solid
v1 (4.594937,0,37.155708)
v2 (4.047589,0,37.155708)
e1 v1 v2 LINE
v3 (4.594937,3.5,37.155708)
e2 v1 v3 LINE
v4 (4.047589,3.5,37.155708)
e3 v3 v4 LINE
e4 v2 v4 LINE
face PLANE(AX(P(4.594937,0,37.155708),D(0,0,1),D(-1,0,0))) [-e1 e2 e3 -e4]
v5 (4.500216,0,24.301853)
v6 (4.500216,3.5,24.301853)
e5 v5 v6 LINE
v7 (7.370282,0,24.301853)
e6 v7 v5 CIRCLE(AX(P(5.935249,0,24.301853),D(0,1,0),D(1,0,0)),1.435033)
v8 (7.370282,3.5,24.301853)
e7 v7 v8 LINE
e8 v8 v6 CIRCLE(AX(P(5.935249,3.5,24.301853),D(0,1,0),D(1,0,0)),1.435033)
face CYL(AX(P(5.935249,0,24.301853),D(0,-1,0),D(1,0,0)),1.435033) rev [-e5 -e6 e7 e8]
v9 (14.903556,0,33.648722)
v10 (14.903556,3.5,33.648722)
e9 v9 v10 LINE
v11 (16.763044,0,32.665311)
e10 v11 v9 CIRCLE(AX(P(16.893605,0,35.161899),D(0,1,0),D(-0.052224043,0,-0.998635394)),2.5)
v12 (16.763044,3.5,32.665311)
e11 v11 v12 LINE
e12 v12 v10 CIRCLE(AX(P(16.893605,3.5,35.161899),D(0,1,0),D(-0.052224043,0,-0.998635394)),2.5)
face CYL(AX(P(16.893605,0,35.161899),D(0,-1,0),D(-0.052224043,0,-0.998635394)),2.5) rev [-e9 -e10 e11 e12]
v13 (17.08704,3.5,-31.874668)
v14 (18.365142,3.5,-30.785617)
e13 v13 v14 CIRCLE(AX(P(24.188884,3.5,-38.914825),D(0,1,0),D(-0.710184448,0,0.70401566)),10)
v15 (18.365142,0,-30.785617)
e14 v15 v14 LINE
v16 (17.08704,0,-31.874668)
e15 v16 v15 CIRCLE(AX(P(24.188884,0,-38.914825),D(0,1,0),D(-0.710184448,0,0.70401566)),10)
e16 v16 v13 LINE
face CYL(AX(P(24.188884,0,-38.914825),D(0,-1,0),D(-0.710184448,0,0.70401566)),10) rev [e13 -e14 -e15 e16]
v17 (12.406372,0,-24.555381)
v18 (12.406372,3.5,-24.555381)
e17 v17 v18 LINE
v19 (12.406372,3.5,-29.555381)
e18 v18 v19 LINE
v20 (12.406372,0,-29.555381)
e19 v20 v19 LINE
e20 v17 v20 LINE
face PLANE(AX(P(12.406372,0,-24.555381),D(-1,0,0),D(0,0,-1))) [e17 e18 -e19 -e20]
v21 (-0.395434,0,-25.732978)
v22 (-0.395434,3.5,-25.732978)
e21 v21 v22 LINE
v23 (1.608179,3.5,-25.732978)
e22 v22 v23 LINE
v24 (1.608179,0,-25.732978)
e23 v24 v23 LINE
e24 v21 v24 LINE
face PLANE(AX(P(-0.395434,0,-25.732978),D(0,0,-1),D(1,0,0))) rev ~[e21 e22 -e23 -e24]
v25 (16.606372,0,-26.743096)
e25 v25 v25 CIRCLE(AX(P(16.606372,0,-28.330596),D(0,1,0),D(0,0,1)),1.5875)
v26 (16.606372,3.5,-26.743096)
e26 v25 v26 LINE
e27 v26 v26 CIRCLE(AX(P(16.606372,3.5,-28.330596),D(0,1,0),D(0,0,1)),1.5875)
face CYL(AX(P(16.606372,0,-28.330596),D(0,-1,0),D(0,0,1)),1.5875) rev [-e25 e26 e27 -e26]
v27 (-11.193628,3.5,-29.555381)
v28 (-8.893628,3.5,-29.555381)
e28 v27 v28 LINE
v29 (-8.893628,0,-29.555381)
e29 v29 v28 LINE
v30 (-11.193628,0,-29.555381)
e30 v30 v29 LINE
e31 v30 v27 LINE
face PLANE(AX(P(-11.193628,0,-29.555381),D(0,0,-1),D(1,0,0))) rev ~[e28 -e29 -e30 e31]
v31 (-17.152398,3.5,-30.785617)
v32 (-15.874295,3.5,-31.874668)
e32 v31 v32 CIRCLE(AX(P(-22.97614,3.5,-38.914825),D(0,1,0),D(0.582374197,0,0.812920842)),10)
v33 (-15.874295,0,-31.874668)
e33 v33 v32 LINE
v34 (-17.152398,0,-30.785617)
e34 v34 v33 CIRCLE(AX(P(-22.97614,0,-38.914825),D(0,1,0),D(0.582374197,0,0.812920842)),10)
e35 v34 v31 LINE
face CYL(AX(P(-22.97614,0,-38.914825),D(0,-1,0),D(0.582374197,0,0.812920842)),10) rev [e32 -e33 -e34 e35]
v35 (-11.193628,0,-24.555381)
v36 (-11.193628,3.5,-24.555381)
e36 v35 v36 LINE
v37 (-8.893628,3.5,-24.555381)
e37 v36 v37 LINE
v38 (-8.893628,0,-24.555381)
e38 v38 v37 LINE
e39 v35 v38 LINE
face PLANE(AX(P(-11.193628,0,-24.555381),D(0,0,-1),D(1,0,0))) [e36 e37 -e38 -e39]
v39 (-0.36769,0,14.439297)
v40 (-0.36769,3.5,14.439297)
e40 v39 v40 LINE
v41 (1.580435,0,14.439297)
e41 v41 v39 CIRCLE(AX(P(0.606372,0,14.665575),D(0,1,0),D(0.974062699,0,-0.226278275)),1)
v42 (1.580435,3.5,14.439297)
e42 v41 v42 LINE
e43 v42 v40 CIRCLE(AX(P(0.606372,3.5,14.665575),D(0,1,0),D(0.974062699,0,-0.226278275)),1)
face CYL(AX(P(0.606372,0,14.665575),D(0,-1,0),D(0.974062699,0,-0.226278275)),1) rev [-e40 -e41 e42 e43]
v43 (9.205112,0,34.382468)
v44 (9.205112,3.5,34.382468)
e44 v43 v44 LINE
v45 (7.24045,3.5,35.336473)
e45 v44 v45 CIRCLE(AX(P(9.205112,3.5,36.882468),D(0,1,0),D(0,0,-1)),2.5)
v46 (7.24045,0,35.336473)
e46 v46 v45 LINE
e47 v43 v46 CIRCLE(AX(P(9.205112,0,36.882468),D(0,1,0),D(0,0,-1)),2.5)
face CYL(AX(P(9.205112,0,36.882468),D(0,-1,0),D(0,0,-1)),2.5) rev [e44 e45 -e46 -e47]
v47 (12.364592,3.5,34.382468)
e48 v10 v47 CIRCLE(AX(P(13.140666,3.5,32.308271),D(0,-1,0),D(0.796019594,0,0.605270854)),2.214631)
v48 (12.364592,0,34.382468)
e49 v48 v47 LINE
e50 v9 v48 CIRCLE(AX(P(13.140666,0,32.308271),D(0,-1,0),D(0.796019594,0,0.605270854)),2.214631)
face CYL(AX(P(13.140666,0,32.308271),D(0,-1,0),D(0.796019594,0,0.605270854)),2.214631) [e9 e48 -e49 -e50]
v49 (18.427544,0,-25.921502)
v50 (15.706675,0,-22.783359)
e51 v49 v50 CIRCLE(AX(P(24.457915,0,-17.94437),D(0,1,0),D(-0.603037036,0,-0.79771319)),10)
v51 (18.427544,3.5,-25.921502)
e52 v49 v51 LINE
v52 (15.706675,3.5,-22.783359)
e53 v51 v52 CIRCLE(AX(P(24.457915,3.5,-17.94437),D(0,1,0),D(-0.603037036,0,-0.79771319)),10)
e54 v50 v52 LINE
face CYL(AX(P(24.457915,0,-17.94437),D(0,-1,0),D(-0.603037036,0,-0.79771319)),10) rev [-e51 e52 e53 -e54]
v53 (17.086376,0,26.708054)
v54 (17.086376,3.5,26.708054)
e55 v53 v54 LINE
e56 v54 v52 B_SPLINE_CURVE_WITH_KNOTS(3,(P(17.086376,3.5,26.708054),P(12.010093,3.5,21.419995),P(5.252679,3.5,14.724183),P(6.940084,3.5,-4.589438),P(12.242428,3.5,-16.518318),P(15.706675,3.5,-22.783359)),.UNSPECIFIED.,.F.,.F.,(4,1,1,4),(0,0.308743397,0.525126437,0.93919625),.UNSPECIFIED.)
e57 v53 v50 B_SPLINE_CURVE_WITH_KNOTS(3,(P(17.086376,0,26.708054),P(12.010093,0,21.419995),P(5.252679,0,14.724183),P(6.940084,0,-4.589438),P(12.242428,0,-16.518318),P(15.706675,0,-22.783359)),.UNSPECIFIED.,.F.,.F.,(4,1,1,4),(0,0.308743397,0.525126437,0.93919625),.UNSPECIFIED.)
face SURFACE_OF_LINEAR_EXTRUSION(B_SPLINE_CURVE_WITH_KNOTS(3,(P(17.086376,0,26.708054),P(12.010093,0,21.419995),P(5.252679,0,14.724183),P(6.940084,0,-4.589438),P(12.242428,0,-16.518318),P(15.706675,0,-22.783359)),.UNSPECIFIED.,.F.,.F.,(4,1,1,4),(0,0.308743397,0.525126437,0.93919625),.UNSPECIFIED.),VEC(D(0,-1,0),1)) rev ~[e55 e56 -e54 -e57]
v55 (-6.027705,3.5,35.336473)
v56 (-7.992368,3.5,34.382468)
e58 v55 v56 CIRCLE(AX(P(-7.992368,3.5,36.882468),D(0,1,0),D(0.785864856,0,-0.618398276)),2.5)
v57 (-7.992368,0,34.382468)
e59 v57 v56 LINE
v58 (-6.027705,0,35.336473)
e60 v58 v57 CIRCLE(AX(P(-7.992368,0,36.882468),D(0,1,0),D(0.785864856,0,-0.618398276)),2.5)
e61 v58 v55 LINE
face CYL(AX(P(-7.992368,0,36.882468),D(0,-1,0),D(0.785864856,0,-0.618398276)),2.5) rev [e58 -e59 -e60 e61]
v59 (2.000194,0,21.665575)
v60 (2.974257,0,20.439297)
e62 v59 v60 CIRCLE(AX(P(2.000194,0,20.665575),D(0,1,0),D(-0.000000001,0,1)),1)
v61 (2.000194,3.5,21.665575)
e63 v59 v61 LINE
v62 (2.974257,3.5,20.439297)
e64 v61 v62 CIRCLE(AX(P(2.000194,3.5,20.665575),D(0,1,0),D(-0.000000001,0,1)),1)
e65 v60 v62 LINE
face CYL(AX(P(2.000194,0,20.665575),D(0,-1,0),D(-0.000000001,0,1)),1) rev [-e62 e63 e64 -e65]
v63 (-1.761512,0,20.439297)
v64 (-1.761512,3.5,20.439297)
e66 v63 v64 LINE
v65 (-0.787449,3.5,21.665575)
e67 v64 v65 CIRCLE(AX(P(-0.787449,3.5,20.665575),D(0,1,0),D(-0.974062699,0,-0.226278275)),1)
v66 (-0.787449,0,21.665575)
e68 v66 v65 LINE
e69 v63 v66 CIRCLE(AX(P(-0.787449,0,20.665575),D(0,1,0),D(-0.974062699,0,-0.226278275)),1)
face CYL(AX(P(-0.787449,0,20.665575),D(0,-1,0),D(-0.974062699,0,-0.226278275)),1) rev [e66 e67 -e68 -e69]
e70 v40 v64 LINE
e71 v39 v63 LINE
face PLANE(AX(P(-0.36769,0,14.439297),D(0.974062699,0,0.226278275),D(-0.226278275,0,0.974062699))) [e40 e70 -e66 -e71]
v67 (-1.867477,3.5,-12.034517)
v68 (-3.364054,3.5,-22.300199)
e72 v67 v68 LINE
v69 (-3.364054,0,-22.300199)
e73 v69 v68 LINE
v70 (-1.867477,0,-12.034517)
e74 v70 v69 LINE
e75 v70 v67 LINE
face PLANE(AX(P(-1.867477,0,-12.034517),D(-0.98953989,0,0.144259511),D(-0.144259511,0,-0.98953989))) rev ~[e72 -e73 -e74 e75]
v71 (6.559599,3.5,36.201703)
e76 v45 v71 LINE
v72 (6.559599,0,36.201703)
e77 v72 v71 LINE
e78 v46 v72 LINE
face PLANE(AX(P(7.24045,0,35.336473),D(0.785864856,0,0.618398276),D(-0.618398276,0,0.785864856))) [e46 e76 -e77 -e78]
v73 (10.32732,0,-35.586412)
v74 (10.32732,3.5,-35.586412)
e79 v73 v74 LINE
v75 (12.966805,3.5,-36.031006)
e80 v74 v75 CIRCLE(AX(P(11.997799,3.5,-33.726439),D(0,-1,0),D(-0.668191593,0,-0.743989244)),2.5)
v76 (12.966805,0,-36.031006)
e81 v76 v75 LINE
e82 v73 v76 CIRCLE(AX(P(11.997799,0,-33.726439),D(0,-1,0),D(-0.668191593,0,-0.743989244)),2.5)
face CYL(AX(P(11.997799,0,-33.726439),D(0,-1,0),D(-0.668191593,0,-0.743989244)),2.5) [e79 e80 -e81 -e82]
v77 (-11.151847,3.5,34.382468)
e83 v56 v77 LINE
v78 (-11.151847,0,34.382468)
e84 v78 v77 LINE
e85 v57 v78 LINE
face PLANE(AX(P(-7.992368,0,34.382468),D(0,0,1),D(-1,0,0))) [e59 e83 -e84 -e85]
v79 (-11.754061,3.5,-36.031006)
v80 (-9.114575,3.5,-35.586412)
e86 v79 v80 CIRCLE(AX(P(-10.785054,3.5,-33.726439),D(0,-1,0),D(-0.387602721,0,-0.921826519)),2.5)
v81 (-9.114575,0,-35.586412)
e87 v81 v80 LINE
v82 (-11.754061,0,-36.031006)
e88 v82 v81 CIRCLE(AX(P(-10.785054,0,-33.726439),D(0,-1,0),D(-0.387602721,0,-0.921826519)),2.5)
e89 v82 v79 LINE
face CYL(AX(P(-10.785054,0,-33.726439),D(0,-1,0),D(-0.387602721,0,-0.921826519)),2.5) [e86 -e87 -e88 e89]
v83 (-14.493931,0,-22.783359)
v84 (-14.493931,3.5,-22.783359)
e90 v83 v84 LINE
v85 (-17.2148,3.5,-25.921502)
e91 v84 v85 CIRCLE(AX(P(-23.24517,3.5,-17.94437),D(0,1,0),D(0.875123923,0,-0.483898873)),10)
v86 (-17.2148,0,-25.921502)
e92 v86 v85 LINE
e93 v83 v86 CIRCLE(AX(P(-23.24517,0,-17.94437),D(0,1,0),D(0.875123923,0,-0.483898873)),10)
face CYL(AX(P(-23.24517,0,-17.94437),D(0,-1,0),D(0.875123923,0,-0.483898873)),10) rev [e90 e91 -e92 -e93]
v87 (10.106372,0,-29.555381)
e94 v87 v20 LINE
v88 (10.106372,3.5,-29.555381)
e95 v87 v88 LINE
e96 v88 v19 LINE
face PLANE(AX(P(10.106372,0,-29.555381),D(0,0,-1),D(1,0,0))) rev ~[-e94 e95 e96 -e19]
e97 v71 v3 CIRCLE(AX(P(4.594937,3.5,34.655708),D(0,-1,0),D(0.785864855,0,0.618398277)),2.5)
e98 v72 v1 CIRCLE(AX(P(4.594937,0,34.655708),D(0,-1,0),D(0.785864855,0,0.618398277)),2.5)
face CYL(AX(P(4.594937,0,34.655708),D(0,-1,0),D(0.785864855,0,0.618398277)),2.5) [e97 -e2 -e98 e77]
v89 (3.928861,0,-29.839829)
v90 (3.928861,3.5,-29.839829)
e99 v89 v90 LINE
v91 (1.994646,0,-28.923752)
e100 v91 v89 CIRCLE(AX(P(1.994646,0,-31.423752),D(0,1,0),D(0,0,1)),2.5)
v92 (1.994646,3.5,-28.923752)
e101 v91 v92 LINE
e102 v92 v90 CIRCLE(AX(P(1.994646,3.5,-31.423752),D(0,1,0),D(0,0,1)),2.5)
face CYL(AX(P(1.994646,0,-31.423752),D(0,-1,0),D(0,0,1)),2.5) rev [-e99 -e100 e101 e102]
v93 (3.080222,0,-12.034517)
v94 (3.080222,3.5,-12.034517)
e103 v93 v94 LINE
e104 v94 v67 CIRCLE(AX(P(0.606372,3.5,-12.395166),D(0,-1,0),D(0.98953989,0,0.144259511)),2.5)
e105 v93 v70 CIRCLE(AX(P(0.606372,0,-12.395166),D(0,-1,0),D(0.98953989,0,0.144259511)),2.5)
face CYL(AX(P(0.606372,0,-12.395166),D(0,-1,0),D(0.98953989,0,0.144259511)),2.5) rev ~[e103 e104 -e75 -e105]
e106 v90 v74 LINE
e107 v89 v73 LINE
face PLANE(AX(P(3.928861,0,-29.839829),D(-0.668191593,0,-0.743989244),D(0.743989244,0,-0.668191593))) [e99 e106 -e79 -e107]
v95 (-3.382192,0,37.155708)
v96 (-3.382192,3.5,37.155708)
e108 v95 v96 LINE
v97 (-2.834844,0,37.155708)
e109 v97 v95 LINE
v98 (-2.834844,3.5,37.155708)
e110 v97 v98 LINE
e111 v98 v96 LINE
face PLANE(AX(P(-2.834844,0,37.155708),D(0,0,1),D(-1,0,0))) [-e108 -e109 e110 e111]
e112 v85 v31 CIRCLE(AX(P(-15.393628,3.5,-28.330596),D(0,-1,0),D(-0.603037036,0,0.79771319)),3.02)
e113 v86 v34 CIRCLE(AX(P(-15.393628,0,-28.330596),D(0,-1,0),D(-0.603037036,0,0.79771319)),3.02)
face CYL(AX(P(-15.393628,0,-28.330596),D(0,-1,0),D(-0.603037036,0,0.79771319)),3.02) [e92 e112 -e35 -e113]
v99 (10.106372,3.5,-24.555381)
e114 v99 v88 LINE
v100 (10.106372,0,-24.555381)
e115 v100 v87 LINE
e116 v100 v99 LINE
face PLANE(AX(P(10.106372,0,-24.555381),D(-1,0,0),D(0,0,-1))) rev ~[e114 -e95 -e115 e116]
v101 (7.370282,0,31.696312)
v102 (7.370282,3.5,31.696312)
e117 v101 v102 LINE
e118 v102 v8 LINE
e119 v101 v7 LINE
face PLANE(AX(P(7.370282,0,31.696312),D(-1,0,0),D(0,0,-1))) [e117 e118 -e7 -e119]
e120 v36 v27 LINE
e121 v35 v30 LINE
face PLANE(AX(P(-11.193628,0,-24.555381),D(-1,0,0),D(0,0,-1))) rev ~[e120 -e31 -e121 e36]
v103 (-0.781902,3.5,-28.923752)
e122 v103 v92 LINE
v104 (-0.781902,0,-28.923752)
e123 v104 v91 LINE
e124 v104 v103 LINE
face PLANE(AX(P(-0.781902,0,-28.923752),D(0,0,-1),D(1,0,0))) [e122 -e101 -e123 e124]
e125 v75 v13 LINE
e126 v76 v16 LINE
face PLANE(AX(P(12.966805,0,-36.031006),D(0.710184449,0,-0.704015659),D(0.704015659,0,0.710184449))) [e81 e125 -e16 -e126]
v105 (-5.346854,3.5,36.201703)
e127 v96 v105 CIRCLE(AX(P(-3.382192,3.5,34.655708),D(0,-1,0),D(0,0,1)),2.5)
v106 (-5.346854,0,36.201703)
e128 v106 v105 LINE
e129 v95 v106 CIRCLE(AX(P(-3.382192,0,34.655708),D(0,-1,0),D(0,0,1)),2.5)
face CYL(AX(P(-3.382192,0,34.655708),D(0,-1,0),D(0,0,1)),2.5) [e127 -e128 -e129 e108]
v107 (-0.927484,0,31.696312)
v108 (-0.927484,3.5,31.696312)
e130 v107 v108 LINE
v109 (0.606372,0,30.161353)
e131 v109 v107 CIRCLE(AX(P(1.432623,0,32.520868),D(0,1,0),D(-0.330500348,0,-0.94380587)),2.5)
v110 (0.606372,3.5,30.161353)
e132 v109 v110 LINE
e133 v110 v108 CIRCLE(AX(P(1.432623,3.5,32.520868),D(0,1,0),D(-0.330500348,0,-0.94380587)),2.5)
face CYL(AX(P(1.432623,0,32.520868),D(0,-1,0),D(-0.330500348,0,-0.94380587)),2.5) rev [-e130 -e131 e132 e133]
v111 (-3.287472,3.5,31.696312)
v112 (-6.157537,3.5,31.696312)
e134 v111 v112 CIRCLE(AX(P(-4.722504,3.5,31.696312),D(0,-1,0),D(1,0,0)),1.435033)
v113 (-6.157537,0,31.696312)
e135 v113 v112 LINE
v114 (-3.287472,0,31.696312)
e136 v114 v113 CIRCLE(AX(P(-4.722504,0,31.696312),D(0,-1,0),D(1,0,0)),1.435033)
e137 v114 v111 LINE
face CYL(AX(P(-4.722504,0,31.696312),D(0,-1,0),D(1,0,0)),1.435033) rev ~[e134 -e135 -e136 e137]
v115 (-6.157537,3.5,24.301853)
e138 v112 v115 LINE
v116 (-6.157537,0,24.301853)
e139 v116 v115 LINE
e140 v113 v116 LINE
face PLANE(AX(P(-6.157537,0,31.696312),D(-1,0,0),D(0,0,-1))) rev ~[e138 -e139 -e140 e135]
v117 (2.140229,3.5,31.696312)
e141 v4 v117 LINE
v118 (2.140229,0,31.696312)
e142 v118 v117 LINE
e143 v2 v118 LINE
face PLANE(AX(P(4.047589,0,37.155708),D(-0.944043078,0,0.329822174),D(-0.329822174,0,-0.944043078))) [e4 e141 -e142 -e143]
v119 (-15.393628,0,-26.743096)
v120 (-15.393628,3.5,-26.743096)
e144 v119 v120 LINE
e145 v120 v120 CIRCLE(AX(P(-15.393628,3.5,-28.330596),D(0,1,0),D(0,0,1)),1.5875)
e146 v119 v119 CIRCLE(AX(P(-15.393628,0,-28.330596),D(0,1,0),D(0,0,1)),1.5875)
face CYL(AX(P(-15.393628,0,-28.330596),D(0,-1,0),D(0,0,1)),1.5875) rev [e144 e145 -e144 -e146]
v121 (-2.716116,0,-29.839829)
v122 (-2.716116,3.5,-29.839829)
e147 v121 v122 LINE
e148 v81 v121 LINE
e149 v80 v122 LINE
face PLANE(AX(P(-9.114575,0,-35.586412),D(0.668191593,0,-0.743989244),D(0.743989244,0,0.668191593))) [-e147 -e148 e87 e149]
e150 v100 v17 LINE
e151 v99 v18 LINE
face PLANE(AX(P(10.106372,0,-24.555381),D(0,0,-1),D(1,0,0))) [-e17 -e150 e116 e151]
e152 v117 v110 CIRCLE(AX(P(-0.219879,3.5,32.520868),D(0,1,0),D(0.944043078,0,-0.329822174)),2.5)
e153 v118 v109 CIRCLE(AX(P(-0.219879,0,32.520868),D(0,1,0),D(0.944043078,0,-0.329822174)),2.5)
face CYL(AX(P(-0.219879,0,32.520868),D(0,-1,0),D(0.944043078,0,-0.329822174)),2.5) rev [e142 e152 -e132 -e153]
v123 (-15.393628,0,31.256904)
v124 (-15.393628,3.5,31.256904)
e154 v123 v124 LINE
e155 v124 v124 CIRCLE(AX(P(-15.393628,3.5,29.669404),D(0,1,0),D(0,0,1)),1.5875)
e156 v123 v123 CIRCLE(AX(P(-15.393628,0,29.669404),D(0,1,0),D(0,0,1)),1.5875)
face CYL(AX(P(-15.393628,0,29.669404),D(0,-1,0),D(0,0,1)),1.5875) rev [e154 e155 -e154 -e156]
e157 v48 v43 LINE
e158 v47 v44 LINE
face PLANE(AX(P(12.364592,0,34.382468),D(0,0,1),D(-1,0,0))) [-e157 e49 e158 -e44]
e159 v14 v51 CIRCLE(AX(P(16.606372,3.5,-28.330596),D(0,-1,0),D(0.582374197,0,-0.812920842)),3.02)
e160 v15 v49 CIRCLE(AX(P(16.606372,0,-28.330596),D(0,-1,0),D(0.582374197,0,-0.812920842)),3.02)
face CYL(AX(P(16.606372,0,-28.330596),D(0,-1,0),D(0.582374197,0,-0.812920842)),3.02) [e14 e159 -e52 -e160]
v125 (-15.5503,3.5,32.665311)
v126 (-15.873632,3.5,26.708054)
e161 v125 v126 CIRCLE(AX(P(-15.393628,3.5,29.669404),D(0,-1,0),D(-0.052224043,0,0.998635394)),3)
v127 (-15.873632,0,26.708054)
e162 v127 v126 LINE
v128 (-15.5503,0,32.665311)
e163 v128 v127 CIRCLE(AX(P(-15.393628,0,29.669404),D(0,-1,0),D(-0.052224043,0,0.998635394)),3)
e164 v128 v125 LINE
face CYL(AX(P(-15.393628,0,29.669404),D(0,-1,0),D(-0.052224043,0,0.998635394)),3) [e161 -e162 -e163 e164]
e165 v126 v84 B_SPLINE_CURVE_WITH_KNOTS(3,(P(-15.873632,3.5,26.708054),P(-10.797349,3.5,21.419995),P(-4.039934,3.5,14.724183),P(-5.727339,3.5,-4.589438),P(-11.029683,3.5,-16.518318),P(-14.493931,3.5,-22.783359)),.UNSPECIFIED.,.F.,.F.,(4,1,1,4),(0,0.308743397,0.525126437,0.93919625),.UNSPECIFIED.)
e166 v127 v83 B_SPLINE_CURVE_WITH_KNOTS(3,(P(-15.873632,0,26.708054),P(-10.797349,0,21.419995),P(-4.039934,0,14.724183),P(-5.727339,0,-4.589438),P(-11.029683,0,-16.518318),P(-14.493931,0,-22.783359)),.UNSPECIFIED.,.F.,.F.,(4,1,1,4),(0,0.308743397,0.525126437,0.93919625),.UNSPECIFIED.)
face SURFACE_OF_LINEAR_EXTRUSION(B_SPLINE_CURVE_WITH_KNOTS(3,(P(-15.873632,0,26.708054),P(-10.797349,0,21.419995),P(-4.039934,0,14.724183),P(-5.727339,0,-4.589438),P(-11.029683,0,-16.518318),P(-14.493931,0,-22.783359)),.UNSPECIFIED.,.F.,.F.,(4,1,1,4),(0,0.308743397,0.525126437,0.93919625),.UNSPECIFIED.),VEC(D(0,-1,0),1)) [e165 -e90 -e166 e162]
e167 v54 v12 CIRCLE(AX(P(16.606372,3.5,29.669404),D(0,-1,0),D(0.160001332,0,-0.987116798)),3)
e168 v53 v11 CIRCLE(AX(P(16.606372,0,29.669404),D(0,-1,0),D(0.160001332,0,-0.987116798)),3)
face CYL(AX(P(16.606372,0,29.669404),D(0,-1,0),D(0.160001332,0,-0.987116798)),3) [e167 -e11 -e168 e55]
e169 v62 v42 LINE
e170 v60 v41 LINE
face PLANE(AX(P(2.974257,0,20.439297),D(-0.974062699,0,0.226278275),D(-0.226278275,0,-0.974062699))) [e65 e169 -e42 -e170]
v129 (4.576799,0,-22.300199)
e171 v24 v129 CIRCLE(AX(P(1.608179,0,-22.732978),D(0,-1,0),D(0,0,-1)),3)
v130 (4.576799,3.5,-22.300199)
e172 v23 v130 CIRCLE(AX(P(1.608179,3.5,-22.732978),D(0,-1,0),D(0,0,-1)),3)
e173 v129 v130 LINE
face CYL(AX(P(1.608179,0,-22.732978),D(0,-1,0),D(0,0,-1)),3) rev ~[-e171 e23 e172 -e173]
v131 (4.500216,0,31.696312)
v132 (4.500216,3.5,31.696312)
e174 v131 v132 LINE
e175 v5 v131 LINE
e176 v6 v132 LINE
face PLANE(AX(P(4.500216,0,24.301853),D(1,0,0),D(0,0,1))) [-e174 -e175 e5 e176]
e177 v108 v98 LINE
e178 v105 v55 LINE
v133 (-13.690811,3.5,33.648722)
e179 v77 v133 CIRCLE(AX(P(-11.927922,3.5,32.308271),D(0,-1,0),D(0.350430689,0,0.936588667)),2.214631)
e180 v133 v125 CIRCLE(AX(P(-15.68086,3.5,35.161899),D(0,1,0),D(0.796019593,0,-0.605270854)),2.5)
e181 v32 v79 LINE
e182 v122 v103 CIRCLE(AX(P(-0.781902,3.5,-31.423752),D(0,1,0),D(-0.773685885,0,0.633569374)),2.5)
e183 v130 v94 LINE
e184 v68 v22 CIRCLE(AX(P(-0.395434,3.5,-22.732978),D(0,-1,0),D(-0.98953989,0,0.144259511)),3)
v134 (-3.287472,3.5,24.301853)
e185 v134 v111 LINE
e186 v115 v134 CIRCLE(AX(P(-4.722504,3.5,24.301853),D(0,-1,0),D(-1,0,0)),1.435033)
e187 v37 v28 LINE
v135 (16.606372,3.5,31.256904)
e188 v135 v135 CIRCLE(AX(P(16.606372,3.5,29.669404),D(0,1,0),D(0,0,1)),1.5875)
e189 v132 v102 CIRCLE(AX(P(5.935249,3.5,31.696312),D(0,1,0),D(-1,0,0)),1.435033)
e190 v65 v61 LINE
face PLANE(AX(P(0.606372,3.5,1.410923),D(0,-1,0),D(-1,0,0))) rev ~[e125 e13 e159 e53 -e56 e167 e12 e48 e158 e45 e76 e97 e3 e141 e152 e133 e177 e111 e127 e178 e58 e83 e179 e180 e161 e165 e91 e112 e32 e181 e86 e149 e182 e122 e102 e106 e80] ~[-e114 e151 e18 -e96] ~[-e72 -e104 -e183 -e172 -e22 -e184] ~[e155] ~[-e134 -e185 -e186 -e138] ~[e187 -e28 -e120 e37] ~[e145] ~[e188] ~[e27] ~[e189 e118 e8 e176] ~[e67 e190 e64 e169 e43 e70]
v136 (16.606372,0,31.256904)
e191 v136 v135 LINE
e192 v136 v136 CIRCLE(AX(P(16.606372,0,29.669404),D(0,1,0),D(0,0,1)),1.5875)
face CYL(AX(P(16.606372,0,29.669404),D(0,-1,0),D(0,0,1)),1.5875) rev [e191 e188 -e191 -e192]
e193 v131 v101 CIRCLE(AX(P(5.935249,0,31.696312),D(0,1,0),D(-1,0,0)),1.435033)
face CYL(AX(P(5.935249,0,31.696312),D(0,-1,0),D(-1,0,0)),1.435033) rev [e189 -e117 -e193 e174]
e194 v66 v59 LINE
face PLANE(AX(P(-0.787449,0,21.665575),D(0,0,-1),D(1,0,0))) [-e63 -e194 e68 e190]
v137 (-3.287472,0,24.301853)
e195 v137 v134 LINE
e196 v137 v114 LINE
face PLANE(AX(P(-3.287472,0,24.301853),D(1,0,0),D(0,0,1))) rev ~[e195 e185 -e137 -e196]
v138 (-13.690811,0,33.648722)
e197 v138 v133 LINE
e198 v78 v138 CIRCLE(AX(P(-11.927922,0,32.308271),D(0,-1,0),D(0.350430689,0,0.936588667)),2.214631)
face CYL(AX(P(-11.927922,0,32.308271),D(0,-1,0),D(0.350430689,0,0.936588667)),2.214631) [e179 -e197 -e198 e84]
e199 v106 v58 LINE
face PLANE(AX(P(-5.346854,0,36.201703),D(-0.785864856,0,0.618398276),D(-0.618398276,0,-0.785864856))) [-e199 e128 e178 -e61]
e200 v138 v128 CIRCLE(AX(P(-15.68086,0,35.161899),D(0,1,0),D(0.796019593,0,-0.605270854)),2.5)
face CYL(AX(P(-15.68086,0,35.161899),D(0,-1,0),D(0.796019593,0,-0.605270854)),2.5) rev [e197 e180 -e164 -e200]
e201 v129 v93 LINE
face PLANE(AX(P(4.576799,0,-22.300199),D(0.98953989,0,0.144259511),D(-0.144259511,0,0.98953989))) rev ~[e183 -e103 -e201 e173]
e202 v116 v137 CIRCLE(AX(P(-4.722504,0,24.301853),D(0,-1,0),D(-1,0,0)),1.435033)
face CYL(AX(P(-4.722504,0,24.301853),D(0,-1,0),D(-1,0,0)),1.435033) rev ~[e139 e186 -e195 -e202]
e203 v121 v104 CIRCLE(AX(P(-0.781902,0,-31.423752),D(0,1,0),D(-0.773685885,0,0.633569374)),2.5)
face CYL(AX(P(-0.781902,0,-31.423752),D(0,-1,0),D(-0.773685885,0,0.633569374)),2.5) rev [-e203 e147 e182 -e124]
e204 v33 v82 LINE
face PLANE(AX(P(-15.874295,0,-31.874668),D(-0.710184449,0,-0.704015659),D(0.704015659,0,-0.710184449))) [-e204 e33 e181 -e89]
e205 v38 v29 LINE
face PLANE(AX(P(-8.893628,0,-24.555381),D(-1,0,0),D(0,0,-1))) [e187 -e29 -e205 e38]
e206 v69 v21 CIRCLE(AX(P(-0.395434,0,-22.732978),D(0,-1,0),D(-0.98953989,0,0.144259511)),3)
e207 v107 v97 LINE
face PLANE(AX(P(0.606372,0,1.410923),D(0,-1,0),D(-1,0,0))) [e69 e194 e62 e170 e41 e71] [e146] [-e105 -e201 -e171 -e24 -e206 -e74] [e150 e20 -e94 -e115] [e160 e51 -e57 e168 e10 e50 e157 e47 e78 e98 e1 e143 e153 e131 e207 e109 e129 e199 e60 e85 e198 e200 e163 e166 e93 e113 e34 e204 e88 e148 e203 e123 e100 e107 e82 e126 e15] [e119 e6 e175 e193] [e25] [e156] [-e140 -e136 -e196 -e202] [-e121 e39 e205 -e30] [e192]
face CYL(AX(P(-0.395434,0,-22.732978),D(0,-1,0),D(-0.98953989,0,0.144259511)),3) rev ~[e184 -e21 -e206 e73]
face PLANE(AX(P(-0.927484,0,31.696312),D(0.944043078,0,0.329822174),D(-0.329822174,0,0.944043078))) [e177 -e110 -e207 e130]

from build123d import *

# Parameters (mm, degrees)
CROQUIS1_R              = 1.5875
CROQUIS1_W              = 2.3
CROQUIS1_H              = 5
SALIENTE_EXTRUIR1_DEPTH = 3.5


with BuildPart() as part:
    # Croquis1 → Saliente-Extruir1 (new body)
    with BuildSketch(Plane(origin=(0, 0, 0), x_dir=(1, 0, 0), z_dir=(0, 1, 0))):
        with BuildLine():
            Line((-15.874295221, 31.874668373), (-11.754060701, 36.031005585))
            ThreePointArc((-11.754060701, 36.031005585), (-10.369805081, 36.191711772), (-9.114574915, 35.586412398))
            Line((-9.114574915, 35.586412398), (-2.716116368, 29.839829039))
            ThreePointArc((-2.716116368, 29.839829039), (-1.851993104, 29.164348948), (-0.781901657, 28.923752474))
            Line((-0.781901657, 28.923752474), (0.565649151, 28.923752474))
            Line((0.565649151, 28.923752474), (0.647095514, 28.923752474))
            Line((0.647095514, 28.923752474), (1.994646322, 28.923752474))
            ThreePointArc((1.994646322, 28.923752474), (3.06473777, 29.164348948), (3.928861034, 29.839829039))
            Line((3.928861034, 29.839829039), (10.327319581, 35.586412398))
            ThreePointArc((10.327319581, 35.586412398), (11.582549747, 36.191711772), (12.966805367, 36.031005585))
            Line((12.966805367, 36.031005585), (17.087039886, 31.874668373))
            ThreePointArc((17.087039886, 31.874668373), (17.703192062, 31.303268278), (18.365142407, 30.785616548))
            ThreePointArc((18.365142407, 30.785616548), (19.626123842, 28.369336027), (18.427544181, 25.921501773))
            ThreePointArc((18.427544181, 25.921501773), (16.902388008, 24.495249114), (15.706675307, 22.783358599))
            add(Edge.make_bspline(
                [(17.08637633, -26.708053998), (12.010093305, -21.41999504), (5.252678849, -14.724182661), (6.940083791, 4.589437635), (12.242427811, 16.518318459), (15.706675307, 22.783358599)],
                knots=[0, 0, 0, 0, 0.308743397, 0.525126437, 0.93919625, 0.93919625, 0.93919625, 0.93919625], degree=3))
            ThreePointArc((17.08637633, -26.708053998), (19.60196336, -29.831990985), (16.763044461, -32.665310574))
            ThreePointArc((16.763044461, -32.665310574), (15.724835901, -32.951926252), (14.903555585, -33.648721922))
            ThreePointArc((14.903555585, -33.648721922), (13.755521453, -34.435837646), (12.364591814, -34.382468459))
            Line((12.364591814, -34.382468459), (9.205112275, -34.382468459))
            ThreePointArc((9.205112275, -34.382468459), (8.113093326, -34.633581042), (7.240450136, -35.336472768))
            Line((7.240450136, -35.336472768), (6.559598907, -36.201703273))
            ThreePointArc((6.559598907, -36.201703273), (5.686955717, -36.904594998), (4.594936767, -37.155707581))
            Line((4.594936767, -37.155707581), (4.047588743, -37.155707581))
            Line((4.047588743, -37.155707581), (2.140229158, -31.696312325))
            ThreePointArc((2.140229158, -31.696312325), (1.548523338, -30.753735958), (0.606372333, -30.161353086))
            ThreePointArc((0.606372333, -30.161353086), (-0.335778672, -30.753735958), (-0.927484492, -31.696312325))
            Line((-0.927484492, -31.696312325), (-2.834844078, -37.155707581))
            Line((-2.834844078, -37.155707581), (-3.382192102, -37.155707581))
            ThreePointArc((-3.382192102, -37.155707581), (-4.474211051, -36.904594998), (-5.346854241, -36.201703273))
            Line((-5.346854241, -36.201703273), (-6.02770547, -35.336472768))
            ThreePointArc((-6.02770547, -35.336472768), (-6.90034866, -34.633581042), (-7.99236761, -34.382468459))
            Line((-7.99236761, -34.382468459), (-11.151847148, -34.382468459))
            ThreePointArc((-11.151847148, -34.382468459), (-12.542776787, -34.435837646), (-13.690810919, -33.648721922))
            ThreePointArc((-13.690810919, -33.648721922), (-14.512091235, -32.951926252), (-15.550299796, -32.665310574))
            ThreePointArc((-15.550299796, -32.665310574), (-18.389218694, -29.831990985), (-15.873631664, -26.708053998))
            add(Edge.make_bspline(
                [(-15.873631664, -26.708053998), (-10.797348639, -21.41999504), (-4.039934183, -14.724182661), (-5.727339125, 4.589437635), (-11.029683145, 16.518318459), (-14.493930641, 22.783358599)],
                knots=[0, 0, 0, 0, 0.308743397, 0.525126437, 0.93919625, 0.93919625, 0.93919625, 0.93919625], degree=3))
            ThreePointArc((-14.493930641, 22.783358599), (-15.689643342, 24.495249114), (-17.214799516, 25.921501773))
            ThreePointArc((-17.214799516, 25.921501773), (-18.413379177, 28.369336027), (-17.152397742, 30.785616548))
            ThreePointArc((-17.152397742, 30.785616548), (-16.490447396, 31.303268278), (-15.874295221, 31.874668373))
        make_face()
        with Locations(Location((16.606372333, -29.669404393, 0), (0, 0, 270))):
            Circle(CROQUIS1_R, mode=Mode.SUBTRACT)
        with Locations(Location((-15.393627667, 28.330595607, 0), (0, 0, 270))):
            Circle(CROQUIS1_R, mode=Mode.SUBTRACT)
        with Locations(Location((16.606372333, 28.330595607, 0), (0, 0, 270))):
            Circle(CROQUIS1_R, mode=Mode.SUBTRACT)
        with Locations(Location((-15.393627667, -29.669404393, 0), (0, 0, 270))):
            Circle(CROQUIS1_R, mode=Mode.SUBTRACT)
        with BuildLine():
            Line((-3.287471504, -24.301852689), (-3.287471504, -31.696312325))
            ThreePointArc((-3.287471504, -31.696312325), (-4.722504291, -33.131345111), (-6.157537077, -31.696312325))
            Line((-6.157537077, -31.696312325), (-6.157537077, -24.301852689))
            ThreePointArc((-6.157537077, -24.301852689), (-4.722504291, -22.866819903), (-3.287471504, -24.301852689))
        make_face(mode=Mode.SUBTRACT)
        with BuildLine():
            Line((-0.787449287, -21.665575324), (2.000193952, -21.665575324))
            ThreePointArc((2.000193952, -21.665575324), (2.783225968, -21.287556725), (2.974256652, -20.439297049))
            Line((2.974256652, -20.439297049), (1.580435032, -14.439297049))
            ThreePointArc((1.580435032, -14.439297049), (0.606372333, -13.665575324), (-0.367690367, -14.439297049))
            Line((-0.367690367, -14.439297049), (-1.761511986, -20.439297049))
            ThreePointArc((-1.761511986, -20.439297049), (-1.570481302, -21.287556725), (-0.787449287, -21.665575324))
        make_face(mode=Mode.SUBTRACT)
        with BuildLine():
            Line((4.50021617, -24.301852689), (4.50021617, -31.696312325))
            ThreePointArc((4.50021617, -31.696312325), (5.935248956, -33.131345111), (7.370281743, -31.696312325))
            Line((7.370281743, -31.696312325), (7.370281743, -24.301852689))
            ThreePointArc((7.370281743, -24.301852689), (5.935248956, -22.866819903), (4.50021617, -24.301852689))
        make_face(mode=Mode.SUBTRACT)
        with BuildLine():
            Line((-0.39543432, 25.732977828), (1.608178986, 25.732977828))
            ThreePointArc((1.608178986, 25.732977828), (3.877356766, 24.695331568), (4.576798655, 22.300199296))
            Line((4.576798655, 22.300199296), (3.080222057, 12.034517445))
            ThreePointArc((3.080222057, 12.034517445), (0.606372333, 9.895166222), (-1.867477392, 12.034517445))
            Line((-1.867477392, 12.034517445), (-3.364053989, 22.300199296))
            ThreePointArc((-3.364053989, 22.300199296), (-2.6646121, 24.695331568), (-0.39543432, 25.732977828))
        make_face(mode=Mode.SUBTRACT)
        with Locations((-10.043627667, 27.05538099)):
            Rectangle(CROQUIS1_W, CROQUIS1_H, mode=Mode.SUBTRACT)
        with Locations((11.256372333, 27.05538099)):
            Rectangle(CROQUIS1_W, CROQUIS1_H, mode=Mode.SUBTRACT)
    extrude(amount=SALIENTE_EXTRUIR1_DEPTH)


solid = part.part
